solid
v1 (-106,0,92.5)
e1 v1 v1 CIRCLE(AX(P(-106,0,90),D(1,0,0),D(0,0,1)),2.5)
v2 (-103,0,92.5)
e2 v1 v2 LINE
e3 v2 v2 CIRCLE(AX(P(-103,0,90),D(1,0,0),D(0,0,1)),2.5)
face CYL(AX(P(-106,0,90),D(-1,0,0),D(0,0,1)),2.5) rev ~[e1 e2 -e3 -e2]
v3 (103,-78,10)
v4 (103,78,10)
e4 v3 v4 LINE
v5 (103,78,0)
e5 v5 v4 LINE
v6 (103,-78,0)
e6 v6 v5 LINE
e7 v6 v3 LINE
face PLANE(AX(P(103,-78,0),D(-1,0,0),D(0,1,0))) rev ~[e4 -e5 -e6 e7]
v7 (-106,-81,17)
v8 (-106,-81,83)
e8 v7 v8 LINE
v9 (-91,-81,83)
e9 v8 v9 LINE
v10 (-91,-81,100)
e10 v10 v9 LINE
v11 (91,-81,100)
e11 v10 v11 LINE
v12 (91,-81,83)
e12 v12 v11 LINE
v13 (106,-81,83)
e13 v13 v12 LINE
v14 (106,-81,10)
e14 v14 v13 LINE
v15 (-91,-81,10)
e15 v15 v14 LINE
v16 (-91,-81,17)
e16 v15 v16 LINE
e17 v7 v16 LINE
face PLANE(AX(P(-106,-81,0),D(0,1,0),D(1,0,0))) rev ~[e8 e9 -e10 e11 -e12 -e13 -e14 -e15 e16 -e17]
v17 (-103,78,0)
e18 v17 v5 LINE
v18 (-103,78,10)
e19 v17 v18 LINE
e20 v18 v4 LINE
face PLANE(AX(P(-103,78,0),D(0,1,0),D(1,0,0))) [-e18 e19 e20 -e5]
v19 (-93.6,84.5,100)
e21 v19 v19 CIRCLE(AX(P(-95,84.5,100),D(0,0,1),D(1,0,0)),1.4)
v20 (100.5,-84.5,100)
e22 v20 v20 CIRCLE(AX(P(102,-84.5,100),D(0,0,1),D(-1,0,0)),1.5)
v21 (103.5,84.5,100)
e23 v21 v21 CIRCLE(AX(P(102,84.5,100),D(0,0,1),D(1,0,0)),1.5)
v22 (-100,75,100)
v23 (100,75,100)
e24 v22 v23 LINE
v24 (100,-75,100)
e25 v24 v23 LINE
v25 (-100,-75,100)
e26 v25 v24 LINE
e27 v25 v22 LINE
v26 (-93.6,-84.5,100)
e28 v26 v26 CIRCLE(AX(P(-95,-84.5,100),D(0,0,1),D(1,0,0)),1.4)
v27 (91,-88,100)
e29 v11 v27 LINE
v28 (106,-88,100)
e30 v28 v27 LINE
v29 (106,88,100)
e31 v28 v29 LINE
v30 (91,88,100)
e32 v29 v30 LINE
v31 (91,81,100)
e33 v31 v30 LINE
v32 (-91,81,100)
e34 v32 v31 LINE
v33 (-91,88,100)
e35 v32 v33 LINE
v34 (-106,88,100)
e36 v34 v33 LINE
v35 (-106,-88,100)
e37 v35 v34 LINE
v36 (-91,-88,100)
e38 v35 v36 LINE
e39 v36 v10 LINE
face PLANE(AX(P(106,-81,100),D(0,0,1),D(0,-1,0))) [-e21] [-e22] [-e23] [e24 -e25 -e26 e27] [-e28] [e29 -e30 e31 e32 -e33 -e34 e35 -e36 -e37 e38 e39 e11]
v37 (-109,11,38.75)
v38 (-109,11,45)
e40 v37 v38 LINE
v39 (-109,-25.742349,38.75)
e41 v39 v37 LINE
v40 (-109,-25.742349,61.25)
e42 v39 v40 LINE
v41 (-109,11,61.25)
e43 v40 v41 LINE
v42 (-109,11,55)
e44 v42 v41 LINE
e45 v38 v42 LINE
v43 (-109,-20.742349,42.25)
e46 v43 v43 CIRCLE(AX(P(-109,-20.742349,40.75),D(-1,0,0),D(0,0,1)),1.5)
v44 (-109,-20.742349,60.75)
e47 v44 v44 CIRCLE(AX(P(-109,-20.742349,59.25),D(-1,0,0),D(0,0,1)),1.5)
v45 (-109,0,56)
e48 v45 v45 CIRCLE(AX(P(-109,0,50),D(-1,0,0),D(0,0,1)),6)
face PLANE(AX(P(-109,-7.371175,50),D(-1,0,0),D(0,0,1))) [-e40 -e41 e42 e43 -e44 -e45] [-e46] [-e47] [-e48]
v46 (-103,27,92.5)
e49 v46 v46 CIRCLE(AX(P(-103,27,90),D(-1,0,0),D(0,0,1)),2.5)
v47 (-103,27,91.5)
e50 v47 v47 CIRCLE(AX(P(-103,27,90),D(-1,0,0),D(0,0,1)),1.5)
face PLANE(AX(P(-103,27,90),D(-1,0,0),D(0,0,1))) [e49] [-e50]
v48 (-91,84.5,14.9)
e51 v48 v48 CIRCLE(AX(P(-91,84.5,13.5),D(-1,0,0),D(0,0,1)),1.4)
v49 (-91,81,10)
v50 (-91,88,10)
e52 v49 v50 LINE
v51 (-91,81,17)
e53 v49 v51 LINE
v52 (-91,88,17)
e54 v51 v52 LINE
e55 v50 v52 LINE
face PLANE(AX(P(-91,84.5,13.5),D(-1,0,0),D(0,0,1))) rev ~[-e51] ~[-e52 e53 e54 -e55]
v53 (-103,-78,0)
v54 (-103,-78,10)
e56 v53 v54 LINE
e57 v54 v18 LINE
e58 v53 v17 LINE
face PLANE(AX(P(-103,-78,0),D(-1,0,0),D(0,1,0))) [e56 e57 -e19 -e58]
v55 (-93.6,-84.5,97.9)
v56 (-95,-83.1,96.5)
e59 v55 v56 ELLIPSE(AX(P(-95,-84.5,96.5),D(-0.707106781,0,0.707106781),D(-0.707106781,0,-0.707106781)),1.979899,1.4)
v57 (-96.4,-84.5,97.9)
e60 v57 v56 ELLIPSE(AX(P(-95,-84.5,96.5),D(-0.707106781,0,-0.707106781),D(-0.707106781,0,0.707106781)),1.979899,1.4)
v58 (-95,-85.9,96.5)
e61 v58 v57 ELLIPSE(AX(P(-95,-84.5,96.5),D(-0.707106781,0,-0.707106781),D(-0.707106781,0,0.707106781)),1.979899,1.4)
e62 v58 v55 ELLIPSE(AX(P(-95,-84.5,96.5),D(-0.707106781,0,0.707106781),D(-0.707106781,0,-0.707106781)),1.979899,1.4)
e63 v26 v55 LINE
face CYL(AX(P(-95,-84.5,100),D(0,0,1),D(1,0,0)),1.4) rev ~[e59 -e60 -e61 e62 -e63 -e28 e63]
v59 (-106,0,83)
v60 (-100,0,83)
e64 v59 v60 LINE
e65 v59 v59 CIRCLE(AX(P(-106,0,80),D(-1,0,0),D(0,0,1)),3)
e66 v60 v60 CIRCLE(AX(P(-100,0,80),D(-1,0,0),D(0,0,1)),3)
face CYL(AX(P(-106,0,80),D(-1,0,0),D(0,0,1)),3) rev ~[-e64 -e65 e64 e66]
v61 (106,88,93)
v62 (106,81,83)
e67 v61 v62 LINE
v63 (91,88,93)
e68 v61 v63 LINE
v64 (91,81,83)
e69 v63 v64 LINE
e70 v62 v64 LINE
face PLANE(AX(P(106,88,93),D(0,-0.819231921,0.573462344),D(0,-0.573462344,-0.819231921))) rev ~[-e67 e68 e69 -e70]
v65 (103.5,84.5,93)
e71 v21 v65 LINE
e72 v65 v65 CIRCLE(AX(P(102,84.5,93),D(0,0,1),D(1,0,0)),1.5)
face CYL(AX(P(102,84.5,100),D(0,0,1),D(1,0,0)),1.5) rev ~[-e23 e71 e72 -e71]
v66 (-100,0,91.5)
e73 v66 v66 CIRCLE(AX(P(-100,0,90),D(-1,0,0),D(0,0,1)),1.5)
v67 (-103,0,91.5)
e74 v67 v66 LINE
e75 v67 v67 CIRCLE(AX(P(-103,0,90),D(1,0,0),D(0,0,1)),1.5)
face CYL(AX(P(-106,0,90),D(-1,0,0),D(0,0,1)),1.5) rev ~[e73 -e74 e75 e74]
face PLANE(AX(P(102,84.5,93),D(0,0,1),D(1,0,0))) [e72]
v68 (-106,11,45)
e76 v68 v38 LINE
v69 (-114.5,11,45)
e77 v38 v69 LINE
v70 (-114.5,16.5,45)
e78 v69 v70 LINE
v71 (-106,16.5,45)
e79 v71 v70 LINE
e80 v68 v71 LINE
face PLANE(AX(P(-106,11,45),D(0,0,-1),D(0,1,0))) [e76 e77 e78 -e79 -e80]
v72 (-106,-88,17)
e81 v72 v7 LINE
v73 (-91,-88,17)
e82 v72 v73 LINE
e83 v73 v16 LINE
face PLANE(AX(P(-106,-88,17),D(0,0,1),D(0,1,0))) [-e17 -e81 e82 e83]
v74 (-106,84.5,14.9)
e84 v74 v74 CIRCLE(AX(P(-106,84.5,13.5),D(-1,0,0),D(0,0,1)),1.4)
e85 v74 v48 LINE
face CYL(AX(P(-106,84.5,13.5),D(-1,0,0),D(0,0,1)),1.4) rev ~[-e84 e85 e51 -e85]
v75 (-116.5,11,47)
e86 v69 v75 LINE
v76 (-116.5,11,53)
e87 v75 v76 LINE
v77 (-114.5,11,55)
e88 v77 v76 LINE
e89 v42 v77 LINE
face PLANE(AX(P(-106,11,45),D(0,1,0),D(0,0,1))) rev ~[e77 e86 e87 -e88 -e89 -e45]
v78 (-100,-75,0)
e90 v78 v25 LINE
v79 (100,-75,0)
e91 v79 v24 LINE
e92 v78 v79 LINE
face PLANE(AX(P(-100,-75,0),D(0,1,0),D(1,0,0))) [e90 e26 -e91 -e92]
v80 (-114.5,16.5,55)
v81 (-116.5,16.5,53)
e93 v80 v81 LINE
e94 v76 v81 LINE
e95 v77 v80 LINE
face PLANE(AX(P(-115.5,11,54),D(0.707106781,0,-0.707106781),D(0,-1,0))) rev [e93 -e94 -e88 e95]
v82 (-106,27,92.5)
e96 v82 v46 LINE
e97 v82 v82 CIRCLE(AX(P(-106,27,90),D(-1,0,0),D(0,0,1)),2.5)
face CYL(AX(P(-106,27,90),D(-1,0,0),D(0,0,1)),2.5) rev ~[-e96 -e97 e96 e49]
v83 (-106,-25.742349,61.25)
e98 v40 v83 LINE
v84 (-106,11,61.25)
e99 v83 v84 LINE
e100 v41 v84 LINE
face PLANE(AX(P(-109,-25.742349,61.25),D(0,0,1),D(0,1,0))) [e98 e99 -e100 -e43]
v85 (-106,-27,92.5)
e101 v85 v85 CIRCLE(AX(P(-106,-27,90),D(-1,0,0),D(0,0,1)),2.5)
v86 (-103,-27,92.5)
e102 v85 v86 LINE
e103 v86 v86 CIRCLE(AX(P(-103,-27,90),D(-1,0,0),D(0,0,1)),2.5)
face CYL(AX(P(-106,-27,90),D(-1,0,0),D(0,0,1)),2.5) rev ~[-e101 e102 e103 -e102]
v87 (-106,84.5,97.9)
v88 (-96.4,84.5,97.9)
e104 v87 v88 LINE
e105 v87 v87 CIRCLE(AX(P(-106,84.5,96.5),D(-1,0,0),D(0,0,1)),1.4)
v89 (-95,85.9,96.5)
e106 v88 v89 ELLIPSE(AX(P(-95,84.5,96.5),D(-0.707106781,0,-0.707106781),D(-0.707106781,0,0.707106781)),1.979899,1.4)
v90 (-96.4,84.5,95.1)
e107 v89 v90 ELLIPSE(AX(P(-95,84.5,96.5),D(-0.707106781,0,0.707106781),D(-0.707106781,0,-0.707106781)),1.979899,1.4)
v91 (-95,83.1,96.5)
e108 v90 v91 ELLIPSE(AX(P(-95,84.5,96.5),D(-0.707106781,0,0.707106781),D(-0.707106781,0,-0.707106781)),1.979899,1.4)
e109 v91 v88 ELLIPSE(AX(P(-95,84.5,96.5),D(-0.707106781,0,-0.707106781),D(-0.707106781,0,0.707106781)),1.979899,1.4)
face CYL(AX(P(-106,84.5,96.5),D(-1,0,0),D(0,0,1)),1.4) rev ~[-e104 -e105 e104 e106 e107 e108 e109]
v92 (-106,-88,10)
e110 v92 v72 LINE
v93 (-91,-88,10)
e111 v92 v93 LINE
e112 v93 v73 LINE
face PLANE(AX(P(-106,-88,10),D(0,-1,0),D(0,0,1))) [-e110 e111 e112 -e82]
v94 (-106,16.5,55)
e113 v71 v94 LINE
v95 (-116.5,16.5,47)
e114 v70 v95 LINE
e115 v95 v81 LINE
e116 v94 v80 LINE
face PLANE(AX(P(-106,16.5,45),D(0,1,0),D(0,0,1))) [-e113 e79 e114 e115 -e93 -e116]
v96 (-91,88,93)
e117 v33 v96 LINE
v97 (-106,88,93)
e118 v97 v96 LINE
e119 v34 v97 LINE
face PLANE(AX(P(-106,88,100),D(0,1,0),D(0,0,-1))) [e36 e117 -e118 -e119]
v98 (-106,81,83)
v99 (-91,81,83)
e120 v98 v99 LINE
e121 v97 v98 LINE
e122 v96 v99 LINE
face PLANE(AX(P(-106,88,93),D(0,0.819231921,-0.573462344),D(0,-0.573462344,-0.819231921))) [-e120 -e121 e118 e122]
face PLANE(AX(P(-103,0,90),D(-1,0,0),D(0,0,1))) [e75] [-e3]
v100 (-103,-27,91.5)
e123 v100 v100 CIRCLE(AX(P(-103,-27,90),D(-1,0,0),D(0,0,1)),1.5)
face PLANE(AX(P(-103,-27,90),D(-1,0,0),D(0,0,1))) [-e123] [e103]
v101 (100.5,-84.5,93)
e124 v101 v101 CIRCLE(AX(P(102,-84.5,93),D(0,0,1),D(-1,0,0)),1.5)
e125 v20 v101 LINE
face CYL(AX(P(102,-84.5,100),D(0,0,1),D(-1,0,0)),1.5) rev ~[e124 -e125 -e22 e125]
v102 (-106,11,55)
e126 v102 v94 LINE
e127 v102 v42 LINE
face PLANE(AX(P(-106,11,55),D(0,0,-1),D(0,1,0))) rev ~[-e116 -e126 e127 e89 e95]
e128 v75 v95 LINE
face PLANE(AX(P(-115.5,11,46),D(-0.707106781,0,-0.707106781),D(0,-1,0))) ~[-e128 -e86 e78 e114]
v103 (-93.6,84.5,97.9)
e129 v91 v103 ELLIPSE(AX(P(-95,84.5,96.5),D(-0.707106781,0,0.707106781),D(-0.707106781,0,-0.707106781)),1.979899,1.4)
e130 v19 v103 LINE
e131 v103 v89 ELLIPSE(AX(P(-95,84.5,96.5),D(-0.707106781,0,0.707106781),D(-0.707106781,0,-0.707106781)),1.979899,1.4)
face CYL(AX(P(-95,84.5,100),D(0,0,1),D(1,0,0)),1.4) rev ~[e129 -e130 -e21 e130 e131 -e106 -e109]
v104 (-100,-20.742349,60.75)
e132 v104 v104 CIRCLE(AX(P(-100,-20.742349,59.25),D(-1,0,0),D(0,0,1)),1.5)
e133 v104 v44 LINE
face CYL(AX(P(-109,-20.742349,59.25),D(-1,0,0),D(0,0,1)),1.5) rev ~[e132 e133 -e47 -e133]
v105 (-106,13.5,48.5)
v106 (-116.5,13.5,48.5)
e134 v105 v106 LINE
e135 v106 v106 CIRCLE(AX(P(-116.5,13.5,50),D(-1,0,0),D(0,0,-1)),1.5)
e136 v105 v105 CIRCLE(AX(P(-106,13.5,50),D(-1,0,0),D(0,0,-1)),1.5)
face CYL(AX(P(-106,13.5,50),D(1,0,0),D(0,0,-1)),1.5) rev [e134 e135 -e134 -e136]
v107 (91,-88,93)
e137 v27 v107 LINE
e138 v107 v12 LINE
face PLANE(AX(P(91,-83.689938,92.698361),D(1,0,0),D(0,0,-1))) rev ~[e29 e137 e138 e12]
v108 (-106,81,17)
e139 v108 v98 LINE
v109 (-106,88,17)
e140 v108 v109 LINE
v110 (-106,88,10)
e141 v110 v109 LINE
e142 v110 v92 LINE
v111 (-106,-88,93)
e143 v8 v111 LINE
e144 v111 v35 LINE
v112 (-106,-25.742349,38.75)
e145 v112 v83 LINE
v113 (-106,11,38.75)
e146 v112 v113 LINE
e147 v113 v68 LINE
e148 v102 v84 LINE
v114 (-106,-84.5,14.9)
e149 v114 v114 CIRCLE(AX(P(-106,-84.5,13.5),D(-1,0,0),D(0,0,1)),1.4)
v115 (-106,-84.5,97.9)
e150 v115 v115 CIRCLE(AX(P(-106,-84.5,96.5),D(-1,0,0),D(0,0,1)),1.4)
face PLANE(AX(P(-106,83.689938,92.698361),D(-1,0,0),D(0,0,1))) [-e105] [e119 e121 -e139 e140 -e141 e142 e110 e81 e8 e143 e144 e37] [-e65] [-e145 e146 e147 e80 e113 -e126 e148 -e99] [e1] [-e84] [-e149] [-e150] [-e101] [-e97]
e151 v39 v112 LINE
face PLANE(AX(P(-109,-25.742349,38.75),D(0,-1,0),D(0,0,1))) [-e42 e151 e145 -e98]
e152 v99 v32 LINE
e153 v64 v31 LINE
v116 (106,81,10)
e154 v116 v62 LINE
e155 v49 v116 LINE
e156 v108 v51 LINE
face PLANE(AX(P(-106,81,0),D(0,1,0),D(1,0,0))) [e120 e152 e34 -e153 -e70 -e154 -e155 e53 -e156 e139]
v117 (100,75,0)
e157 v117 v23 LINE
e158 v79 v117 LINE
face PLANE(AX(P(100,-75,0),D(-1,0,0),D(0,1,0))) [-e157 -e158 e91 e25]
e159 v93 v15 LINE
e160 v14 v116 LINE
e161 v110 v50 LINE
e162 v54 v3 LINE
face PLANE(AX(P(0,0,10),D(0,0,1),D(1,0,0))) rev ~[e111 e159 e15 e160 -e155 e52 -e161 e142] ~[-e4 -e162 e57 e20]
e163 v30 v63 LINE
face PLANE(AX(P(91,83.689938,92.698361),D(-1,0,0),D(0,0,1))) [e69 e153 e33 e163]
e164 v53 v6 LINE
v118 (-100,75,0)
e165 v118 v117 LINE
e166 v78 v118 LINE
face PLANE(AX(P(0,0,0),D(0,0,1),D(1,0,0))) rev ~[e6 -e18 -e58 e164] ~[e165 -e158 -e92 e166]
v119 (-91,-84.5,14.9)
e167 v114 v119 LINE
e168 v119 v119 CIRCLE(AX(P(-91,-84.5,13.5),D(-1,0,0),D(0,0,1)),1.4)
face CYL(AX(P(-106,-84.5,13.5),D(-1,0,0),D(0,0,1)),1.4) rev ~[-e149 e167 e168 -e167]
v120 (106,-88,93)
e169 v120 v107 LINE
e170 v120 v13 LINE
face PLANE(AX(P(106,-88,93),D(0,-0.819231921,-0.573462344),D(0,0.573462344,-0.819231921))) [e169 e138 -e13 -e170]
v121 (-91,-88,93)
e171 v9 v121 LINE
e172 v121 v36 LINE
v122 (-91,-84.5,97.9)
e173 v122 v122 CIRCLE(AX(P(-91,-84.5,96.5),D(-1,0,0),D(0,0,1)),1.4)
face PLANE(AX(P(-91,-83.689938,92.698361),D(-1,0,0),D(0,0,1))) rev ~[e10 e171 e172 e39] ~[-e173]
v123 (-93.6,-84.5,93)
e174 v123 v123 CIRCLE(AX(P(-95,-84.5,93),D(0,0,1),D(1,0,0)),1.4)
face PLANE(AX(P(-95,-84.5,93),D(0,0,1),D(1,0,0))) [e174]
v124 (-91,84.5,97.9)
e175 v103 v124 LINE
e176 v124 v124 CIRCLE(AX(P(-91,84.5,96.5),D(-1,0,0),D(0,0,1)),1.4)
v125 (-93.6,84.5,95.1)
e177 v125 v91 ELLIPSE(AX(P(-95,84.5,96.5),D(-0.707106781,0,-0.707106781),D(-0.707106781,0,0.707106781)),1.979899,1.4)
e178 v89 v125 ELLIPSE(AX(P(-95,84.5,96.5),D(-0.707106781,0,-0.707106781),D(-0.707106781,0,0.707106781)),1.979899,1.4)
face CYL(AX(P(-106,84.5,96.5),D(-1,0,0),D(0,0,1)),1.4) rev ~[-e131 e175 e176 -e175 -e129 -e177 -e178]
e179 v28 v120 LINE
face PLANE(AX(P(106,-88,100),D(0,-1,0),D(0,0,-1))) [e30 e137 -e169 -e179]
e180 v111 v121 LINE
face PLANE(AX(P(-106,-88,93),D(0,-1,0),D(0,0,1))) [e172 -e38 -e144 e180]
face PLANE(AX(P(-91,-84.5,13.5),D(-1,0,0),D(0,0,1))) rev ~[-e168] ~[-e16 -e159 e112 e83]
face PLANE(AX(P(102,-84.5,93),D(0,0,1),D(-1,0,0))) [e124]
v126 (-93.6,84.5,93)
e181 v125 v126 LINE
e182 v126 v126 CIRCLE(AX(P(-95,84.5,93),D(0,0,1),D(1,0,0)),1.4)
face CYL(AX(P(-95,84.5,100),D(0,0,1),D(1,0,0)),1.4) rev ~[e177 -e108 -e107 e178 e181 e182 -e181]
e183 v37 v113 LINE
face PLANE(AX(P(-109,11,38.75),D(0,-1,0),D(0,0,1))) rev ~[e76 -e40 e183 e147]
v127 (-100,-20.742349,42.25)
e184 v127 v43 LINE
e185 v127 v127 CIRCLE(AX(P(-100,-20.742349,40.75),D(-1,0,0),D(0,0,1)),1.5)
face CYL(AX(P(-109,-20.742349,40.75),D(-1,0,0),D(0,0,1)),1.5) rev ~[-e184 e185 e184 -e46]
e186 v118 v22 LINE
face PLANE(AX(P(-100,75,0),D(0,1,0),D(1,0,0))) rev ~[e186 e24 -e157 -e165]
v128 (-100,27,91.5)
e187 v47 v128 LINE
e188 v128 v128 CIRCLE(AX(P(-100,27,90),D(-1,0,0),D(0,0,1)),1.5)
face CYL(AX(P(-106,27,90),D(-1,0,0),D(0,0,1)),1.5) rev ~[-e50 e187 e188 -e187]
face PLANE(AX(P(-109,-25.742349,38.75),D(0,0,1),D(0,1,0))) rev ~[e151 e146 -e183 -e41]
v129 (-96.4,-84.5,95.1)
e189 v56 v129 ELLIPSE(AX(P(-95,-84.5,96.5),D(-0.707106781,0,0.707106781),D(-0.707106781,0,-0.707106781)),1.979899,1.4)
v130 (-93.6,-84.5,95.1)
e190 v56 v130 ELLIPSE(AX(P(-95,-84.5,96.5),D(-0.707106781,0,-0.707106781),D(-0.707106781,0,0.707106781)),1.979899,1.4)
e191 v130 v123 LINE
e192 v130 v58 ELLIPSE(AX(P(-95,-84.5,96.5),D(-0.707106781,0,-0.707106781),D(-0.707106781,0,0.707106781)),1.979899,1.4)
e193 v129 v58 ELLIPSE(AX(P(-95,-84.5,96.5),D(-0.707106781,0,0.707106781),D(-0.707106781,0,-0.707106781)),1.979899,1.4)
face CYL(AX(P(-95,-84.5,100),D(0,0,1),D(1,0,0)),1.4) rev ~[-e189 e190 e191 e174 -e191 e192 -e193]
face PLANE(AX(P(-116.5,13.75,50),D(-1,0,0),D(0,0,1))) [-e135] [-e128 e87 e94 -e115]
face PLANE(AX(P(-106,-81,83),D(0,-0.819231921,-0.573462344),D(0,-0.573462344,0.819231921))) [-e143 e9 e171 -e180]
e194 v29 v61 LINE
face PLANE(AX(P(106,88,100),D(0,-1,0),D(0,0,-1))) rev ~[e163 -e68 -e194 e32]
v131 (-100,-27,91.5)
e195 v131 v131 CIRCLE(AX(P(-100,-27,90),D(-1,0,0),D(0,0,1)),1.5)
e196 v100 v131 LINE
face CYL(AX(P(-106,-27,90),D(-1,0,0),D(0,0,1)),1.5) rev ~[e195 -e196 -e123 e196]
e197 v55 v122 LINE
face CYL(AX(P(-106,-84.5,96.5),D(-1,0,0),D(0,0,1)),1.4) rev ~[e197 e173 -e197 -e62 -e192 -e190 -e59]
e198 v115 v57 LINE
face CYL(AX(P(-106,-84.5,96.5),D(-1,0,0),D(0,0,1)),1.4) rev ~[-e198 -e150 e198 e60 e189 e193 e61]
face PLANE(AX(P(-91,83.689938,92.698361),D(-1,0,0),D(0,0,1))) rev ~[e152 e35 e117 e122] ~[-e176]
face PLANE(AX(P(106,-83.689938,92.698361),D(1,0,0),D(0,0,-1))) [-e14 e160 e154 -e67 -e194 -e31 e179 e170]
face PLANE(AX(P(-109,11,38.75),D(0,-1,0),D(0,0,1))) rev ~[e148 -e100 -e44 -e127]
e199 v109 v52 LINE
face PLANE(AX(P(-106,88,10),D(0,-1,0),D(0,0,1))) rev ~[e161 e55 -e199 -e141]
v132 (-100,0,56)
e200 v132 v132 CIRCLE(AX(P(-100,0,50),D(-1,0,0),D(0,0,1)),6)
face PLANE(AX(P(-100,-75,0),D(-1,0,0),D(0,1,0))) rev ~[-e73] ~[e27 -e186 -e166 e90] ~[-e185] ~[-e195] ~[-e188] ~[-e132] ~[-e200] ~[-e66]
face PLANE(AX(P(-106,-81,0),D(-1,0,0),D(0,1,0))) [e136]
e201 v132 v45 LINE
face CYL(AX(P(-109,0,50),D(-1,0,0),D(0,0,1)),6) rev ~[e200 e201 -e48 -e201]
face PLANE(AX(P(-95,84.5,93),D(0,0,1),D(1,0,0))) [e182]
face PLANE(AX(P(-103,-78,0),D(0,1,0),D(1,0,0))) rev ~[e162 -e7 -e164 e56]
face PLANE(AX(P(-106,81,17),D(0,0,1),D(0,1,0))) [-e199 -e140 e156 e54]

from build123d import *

# Parameters (mm, degrees)
SKETCH1_W           = 212
SKETCH1_H           = 162
SKETCH1_W_2         = 206
SKETCH1_H_2         = 156
SKETCH1_W_3         = 200
SKETCH1_H_3         = 150
BOSS_EXTRUDE1_DEPTH = 100
SKETCH1_4_W         = 212
SKETCH1_4_H         = 162
SKETCH1_4_W_2       = 206
SKETCH1_4_H_2       = 156
CUT_EXTRUDE2_DEPTH  = 10
SKETCH2_5_R         = 1.5
SKETCH2_5_R_2       = 6
CUT_EXTRUDE3_DEPTH  = 6
SKETCH2_W           = 10
SKETCH2_H           = 5.5
SKETCH2_R           = 1.5
BOSS_EXTRUDE4_DEPTH = 10.5
CHAMFER1_SIZE       = 2
BOSS_EXTRUDE5_START = 3
SKETCH2_12_W        = 22.5
SKETCH2_12_H        = 36.742349428
SKETCH2_12_R        = 6
SKETCH2_12_R_2      = 1.5
BOSS_EXTRUDE5_DEPTH = 3
SKETCH2_13_R        = 1.5
SKETCH2_13_R_2      = 3
CUT_EXTRUDE6_DEPTH  = 6
SKETCH2_14_R        = 2.5
SKETCH2_14_R_2      = 1.5
CUT_EXTRUDE7_DEPTH  = 3
SKETCH2_18_R        = 1.4
SKETCH2_18_W        = 7
SKETCH2_18_H        = 7
BOSS_EXTRUDE7_DEPTH = 15
BOSS_EXTRUDE8_DEPTH = 15
SKETCH13_R          = 1.4
SKETCH13_R_2        = 1.5
CUT_EXTRUDE14_DEPTH = 7


with BuildPart() as part:
    # Sketch1 → Boss-Extrude1 (new body)
    # profile 1 of 2: a face of its own
    with BuildSketch(Plane.XY):
        Rectangle(SKETCH1_W, SKETCH1_H)
        Rectangle(SKETCH1_W_2, SKETCH1_H_2, mode=Mode.SUBTRACT)
    # profile 2 of 2: a face of its own
    with BuildSketch(Plane.XY):
        Rectangle(SKETCH1_W_2, SKETCH1_H_2)
        Rectangle(SKETCH1_W_3, SKETCH1_H_3, mode=Mode.SUBTRACT)
    extrude(amount=BOSS_EXTRUDE1_DEPTH)

    # Sketch1<4> → Cut-Extrude2 (cut)
    with BuildSketch(Plane.XY):
        Rectangle(SKETCH1_4_W, SKETCH1_4_H)
        Rectangle(SKETCH1_4_W_2, SKETCH1_4_H_2, mode=Mode.SUBTRACT)
    extrude(amount=CUT_EXTRUDE2_DEPTH, mode=Mode.SUBTRACT)

    # Sketch2<5> → Cut-Extrude3 (cut)
    with BuildSketch(Plane.ZY.offset(106)):
        with Locations((40.75, -20.742349428)):
            Circle(SKETCH2_5_R)
        with Locations((59.25, -20.742349428)):
            Circle(SKETCH2_5_R)
        with Locations((50, 0)):
            Circle(SKETCH2_5_R_2)
    extrude(amount=-CUT_EXTRUDE3_DEPTH, mode=Mode.SUBTRACT)

    # Sketch2 → Boss-Extrude4 (add)
    with BuildSketch(Plane.ZY.offset(106)):
        with Locations((50, 13.75)):
            Rectangle(SKETCH2_W, SKETCH2_H)
        with Locations(Location((50, 13.5, 0), (0, 0, 180))):
            Circle(SKETCH2_R, mode=Mode.SUBTRACT)
    extrude(amount=BOSS_EXTRUDE4_DEPTH)

    # Chamfer1
    chamfer1_edges = [part.edges().sort_by_distance(p)[0] for p in [
        (-116.5, 13.75, 55),
        (-116.5, 13.75, 45),
    ]]
    chamfer(chamfer1_edges, length=CHAMFER1_SIZE)

    # Sketch2<12> → Boss-Extrude5 (add)
    with BuildSketch(Plane.ZY.offset(106).offset(BOSS_EXTRUDE5_START)):
        with Locations((50, -7.371174714)):
            Rectangle(SKETCH2_12_W, SKETCH2_12_H)
        with Locations((50, 0)):
            Circle(SKETCH2_12_R, mode=Mode.SUBTRACT)
        with Locations((40.75, -20.742349428)):
            Circle(SKETCH2_12_R_2, mode=Mode.SUBTRACT)
        with Locations((59.25, -20.742349428)):
            Circle(SKETCH2_12_R_2, mode=Mode.SUBTRACT)
    extrude(amount=-BOSS_EXTRUDE5_DEPTH)

    # Sketch2<13> → Cut-Extrude6 (cut)
    with BuildSketch(Plane.ZY.offset(106)):
        with Locations((90, 0)):
            Circle(SKETCH2_13_R)
        with Locations((90, 27)):
            Circle(SKETCH2_13_R)
        with Locations((90, -27)):
            Circle(SKETCH2_13_R)
        with Locations((80, 0)):
            Circle(SKETCH2_13_R_2)
    extrude(amount=-CUT_EXTRUDE6_DEPTH, mode=Mode.SUBTRACT)

    # Sketch2<14> → Cut-Extrude7 (cut)
    # profile 1 of 5: a face of its own
    with BuildSketch(Plane.ZY.offset(106)):
        with Locations((90, 27)):
            Circle(SKETCH2_14_R)
        with Locations((90, 27)):
            Circle(SKETCH2_14_R_2, mode=Mode.SUBTRACT)
    # profile 2 of 5: a face of its own
    with BuildSketch(Plane.ZY.offset(106)):
        with Locations((90, 0)):
            Circle(SKETCH2_14_R)
        with Locations((90, 0)):
            Circle(SKETCH2_14_R_2, mode=Mode.SUBTRACT)
    # profile 3 of 5: a face of its own
    with BuildSketch(Plane.ZY.offset(106)):
        with Locations((90, -27)):
            Circle(SKETCH2_14_R)
        with Locations((90, -27)):
            Circle(SKETCH2_14_R_2, mode=Mode.SUBTRACT)
    # profile 4 of 5: a face of its own
    with BuildSketch(Plane.ZY.offset(106)):
        with BuildLine():
            ThreePointArc((92.5, 0), (90, 2.5), (87.5, 0))
            Line((87.5, 0), (88.5, 0))
            ThreePointArc((88.5, 0), (90, 1.5), (91.5, 0))
            Line((91.5, 0), (92.5, 0))
        make_face()
    # profile 5 of 5: a face of its own
    with BuildSketch(Plane.ZY.offset(106)):
        with BuildLine():
            Line((88.5, 0), (87.5, 0))
            ThreePointArc((87.5, 0), (90, -2.5), (92.5, 0))
            Line((92.5, 0), (91.5, 0))
            ThreePointArc((91.5, 0), (90, -1.5), (88.5, 0))
        make_face()
    extrude(amount=-CUT_EXTRUDE7_DEPTH, mode=Mode.SUBTRACT)

    # Sketch2<18> → Boss-Extrude7 (add)
    # profile 1 of 4: a face of its own
    with BuildSketch(Plane.ZY.offset(106)):
        Polygon((93, 88), (83, 81), (93, 81), (100, 81), (100, 88), align=None)
        with Locations((96.5, 84.5)):
            Circle(SKETCH2_18_R, mode=Mode.SUBTRACT)
    # profile 2 of 4: a face of its own
    with BuildSketch(Plane.ZY.offset(106)):
        with Locations((13.5, 84.5)):
            Rectangle(SKETCH2_18_W, SKETCH2_18_H)
        with Locations((13.5, 84.5)):
            Circle(SKETCH2_18_R, mode=Mode.SUBTRACT)
    # profile 3 of 4: a face of its own
    with BuildSketch(Plane.ZY.offset(106)):
        with Locations((13.5, -84.5)):
            Rectangle(SKETCH2_18_W, SKETCH2_18_H)
        with Locations((13.5, -84.5)):
            Circle(SKETCH2_18_R, mode=Mode.SUBTRACT)
    # profile 4 of 4: a face of its own
    with BuildSketch(Plane.ZY.offset(106)):
        Polygon((93, -81), (83, -81), (93, -88), (100, -88), (100, -81), align=None)
        with Locations((96.5, -84.5)):
            Circle(SKETCH2_18_R, mode=Mode.SUBTRACT)
    extrude(amount=-BOSS_EXTRUDE7_DEPTH)

    # Sketch12 → Boss-Extrude8 (add)
    with BuildSketch(Plane(origin=(106, 0, 0), x_dir=(0, 0, -1), z_dir=(1, 0, 0))):
        Polygon((-100, -81), (-100, -88), (-93, -88), (-83, -81), align=None)
        Polygon((-100, 81), (-100, 88), (-93, 88), (-83, 81), align=None)
    extrude(amount=-BOSS_EXTRUDE8_DEPTH)

    # Sketch13 → Cut-Extrude14 (cut)
    with BuildSketch(Plane.XY.offset(100)):
        with Locations((-95, 84.5)):
            Circle(SKETCH13_R)
        with Locations((-95, -84.5)):
            Circle(SKETCH13_R)
        with Locations((102, 84.5)):
            Circle(SKETCH13_R_2)
        with Locations(Location((102, -84.5, 0), (0, 0, 180))):
            Circle(SKETCH13_R_2)
    extrude(amount=-CUT_EXTRUDE14_DEPTH, mode=Mode.SUBTRACT)


solid = part.part
